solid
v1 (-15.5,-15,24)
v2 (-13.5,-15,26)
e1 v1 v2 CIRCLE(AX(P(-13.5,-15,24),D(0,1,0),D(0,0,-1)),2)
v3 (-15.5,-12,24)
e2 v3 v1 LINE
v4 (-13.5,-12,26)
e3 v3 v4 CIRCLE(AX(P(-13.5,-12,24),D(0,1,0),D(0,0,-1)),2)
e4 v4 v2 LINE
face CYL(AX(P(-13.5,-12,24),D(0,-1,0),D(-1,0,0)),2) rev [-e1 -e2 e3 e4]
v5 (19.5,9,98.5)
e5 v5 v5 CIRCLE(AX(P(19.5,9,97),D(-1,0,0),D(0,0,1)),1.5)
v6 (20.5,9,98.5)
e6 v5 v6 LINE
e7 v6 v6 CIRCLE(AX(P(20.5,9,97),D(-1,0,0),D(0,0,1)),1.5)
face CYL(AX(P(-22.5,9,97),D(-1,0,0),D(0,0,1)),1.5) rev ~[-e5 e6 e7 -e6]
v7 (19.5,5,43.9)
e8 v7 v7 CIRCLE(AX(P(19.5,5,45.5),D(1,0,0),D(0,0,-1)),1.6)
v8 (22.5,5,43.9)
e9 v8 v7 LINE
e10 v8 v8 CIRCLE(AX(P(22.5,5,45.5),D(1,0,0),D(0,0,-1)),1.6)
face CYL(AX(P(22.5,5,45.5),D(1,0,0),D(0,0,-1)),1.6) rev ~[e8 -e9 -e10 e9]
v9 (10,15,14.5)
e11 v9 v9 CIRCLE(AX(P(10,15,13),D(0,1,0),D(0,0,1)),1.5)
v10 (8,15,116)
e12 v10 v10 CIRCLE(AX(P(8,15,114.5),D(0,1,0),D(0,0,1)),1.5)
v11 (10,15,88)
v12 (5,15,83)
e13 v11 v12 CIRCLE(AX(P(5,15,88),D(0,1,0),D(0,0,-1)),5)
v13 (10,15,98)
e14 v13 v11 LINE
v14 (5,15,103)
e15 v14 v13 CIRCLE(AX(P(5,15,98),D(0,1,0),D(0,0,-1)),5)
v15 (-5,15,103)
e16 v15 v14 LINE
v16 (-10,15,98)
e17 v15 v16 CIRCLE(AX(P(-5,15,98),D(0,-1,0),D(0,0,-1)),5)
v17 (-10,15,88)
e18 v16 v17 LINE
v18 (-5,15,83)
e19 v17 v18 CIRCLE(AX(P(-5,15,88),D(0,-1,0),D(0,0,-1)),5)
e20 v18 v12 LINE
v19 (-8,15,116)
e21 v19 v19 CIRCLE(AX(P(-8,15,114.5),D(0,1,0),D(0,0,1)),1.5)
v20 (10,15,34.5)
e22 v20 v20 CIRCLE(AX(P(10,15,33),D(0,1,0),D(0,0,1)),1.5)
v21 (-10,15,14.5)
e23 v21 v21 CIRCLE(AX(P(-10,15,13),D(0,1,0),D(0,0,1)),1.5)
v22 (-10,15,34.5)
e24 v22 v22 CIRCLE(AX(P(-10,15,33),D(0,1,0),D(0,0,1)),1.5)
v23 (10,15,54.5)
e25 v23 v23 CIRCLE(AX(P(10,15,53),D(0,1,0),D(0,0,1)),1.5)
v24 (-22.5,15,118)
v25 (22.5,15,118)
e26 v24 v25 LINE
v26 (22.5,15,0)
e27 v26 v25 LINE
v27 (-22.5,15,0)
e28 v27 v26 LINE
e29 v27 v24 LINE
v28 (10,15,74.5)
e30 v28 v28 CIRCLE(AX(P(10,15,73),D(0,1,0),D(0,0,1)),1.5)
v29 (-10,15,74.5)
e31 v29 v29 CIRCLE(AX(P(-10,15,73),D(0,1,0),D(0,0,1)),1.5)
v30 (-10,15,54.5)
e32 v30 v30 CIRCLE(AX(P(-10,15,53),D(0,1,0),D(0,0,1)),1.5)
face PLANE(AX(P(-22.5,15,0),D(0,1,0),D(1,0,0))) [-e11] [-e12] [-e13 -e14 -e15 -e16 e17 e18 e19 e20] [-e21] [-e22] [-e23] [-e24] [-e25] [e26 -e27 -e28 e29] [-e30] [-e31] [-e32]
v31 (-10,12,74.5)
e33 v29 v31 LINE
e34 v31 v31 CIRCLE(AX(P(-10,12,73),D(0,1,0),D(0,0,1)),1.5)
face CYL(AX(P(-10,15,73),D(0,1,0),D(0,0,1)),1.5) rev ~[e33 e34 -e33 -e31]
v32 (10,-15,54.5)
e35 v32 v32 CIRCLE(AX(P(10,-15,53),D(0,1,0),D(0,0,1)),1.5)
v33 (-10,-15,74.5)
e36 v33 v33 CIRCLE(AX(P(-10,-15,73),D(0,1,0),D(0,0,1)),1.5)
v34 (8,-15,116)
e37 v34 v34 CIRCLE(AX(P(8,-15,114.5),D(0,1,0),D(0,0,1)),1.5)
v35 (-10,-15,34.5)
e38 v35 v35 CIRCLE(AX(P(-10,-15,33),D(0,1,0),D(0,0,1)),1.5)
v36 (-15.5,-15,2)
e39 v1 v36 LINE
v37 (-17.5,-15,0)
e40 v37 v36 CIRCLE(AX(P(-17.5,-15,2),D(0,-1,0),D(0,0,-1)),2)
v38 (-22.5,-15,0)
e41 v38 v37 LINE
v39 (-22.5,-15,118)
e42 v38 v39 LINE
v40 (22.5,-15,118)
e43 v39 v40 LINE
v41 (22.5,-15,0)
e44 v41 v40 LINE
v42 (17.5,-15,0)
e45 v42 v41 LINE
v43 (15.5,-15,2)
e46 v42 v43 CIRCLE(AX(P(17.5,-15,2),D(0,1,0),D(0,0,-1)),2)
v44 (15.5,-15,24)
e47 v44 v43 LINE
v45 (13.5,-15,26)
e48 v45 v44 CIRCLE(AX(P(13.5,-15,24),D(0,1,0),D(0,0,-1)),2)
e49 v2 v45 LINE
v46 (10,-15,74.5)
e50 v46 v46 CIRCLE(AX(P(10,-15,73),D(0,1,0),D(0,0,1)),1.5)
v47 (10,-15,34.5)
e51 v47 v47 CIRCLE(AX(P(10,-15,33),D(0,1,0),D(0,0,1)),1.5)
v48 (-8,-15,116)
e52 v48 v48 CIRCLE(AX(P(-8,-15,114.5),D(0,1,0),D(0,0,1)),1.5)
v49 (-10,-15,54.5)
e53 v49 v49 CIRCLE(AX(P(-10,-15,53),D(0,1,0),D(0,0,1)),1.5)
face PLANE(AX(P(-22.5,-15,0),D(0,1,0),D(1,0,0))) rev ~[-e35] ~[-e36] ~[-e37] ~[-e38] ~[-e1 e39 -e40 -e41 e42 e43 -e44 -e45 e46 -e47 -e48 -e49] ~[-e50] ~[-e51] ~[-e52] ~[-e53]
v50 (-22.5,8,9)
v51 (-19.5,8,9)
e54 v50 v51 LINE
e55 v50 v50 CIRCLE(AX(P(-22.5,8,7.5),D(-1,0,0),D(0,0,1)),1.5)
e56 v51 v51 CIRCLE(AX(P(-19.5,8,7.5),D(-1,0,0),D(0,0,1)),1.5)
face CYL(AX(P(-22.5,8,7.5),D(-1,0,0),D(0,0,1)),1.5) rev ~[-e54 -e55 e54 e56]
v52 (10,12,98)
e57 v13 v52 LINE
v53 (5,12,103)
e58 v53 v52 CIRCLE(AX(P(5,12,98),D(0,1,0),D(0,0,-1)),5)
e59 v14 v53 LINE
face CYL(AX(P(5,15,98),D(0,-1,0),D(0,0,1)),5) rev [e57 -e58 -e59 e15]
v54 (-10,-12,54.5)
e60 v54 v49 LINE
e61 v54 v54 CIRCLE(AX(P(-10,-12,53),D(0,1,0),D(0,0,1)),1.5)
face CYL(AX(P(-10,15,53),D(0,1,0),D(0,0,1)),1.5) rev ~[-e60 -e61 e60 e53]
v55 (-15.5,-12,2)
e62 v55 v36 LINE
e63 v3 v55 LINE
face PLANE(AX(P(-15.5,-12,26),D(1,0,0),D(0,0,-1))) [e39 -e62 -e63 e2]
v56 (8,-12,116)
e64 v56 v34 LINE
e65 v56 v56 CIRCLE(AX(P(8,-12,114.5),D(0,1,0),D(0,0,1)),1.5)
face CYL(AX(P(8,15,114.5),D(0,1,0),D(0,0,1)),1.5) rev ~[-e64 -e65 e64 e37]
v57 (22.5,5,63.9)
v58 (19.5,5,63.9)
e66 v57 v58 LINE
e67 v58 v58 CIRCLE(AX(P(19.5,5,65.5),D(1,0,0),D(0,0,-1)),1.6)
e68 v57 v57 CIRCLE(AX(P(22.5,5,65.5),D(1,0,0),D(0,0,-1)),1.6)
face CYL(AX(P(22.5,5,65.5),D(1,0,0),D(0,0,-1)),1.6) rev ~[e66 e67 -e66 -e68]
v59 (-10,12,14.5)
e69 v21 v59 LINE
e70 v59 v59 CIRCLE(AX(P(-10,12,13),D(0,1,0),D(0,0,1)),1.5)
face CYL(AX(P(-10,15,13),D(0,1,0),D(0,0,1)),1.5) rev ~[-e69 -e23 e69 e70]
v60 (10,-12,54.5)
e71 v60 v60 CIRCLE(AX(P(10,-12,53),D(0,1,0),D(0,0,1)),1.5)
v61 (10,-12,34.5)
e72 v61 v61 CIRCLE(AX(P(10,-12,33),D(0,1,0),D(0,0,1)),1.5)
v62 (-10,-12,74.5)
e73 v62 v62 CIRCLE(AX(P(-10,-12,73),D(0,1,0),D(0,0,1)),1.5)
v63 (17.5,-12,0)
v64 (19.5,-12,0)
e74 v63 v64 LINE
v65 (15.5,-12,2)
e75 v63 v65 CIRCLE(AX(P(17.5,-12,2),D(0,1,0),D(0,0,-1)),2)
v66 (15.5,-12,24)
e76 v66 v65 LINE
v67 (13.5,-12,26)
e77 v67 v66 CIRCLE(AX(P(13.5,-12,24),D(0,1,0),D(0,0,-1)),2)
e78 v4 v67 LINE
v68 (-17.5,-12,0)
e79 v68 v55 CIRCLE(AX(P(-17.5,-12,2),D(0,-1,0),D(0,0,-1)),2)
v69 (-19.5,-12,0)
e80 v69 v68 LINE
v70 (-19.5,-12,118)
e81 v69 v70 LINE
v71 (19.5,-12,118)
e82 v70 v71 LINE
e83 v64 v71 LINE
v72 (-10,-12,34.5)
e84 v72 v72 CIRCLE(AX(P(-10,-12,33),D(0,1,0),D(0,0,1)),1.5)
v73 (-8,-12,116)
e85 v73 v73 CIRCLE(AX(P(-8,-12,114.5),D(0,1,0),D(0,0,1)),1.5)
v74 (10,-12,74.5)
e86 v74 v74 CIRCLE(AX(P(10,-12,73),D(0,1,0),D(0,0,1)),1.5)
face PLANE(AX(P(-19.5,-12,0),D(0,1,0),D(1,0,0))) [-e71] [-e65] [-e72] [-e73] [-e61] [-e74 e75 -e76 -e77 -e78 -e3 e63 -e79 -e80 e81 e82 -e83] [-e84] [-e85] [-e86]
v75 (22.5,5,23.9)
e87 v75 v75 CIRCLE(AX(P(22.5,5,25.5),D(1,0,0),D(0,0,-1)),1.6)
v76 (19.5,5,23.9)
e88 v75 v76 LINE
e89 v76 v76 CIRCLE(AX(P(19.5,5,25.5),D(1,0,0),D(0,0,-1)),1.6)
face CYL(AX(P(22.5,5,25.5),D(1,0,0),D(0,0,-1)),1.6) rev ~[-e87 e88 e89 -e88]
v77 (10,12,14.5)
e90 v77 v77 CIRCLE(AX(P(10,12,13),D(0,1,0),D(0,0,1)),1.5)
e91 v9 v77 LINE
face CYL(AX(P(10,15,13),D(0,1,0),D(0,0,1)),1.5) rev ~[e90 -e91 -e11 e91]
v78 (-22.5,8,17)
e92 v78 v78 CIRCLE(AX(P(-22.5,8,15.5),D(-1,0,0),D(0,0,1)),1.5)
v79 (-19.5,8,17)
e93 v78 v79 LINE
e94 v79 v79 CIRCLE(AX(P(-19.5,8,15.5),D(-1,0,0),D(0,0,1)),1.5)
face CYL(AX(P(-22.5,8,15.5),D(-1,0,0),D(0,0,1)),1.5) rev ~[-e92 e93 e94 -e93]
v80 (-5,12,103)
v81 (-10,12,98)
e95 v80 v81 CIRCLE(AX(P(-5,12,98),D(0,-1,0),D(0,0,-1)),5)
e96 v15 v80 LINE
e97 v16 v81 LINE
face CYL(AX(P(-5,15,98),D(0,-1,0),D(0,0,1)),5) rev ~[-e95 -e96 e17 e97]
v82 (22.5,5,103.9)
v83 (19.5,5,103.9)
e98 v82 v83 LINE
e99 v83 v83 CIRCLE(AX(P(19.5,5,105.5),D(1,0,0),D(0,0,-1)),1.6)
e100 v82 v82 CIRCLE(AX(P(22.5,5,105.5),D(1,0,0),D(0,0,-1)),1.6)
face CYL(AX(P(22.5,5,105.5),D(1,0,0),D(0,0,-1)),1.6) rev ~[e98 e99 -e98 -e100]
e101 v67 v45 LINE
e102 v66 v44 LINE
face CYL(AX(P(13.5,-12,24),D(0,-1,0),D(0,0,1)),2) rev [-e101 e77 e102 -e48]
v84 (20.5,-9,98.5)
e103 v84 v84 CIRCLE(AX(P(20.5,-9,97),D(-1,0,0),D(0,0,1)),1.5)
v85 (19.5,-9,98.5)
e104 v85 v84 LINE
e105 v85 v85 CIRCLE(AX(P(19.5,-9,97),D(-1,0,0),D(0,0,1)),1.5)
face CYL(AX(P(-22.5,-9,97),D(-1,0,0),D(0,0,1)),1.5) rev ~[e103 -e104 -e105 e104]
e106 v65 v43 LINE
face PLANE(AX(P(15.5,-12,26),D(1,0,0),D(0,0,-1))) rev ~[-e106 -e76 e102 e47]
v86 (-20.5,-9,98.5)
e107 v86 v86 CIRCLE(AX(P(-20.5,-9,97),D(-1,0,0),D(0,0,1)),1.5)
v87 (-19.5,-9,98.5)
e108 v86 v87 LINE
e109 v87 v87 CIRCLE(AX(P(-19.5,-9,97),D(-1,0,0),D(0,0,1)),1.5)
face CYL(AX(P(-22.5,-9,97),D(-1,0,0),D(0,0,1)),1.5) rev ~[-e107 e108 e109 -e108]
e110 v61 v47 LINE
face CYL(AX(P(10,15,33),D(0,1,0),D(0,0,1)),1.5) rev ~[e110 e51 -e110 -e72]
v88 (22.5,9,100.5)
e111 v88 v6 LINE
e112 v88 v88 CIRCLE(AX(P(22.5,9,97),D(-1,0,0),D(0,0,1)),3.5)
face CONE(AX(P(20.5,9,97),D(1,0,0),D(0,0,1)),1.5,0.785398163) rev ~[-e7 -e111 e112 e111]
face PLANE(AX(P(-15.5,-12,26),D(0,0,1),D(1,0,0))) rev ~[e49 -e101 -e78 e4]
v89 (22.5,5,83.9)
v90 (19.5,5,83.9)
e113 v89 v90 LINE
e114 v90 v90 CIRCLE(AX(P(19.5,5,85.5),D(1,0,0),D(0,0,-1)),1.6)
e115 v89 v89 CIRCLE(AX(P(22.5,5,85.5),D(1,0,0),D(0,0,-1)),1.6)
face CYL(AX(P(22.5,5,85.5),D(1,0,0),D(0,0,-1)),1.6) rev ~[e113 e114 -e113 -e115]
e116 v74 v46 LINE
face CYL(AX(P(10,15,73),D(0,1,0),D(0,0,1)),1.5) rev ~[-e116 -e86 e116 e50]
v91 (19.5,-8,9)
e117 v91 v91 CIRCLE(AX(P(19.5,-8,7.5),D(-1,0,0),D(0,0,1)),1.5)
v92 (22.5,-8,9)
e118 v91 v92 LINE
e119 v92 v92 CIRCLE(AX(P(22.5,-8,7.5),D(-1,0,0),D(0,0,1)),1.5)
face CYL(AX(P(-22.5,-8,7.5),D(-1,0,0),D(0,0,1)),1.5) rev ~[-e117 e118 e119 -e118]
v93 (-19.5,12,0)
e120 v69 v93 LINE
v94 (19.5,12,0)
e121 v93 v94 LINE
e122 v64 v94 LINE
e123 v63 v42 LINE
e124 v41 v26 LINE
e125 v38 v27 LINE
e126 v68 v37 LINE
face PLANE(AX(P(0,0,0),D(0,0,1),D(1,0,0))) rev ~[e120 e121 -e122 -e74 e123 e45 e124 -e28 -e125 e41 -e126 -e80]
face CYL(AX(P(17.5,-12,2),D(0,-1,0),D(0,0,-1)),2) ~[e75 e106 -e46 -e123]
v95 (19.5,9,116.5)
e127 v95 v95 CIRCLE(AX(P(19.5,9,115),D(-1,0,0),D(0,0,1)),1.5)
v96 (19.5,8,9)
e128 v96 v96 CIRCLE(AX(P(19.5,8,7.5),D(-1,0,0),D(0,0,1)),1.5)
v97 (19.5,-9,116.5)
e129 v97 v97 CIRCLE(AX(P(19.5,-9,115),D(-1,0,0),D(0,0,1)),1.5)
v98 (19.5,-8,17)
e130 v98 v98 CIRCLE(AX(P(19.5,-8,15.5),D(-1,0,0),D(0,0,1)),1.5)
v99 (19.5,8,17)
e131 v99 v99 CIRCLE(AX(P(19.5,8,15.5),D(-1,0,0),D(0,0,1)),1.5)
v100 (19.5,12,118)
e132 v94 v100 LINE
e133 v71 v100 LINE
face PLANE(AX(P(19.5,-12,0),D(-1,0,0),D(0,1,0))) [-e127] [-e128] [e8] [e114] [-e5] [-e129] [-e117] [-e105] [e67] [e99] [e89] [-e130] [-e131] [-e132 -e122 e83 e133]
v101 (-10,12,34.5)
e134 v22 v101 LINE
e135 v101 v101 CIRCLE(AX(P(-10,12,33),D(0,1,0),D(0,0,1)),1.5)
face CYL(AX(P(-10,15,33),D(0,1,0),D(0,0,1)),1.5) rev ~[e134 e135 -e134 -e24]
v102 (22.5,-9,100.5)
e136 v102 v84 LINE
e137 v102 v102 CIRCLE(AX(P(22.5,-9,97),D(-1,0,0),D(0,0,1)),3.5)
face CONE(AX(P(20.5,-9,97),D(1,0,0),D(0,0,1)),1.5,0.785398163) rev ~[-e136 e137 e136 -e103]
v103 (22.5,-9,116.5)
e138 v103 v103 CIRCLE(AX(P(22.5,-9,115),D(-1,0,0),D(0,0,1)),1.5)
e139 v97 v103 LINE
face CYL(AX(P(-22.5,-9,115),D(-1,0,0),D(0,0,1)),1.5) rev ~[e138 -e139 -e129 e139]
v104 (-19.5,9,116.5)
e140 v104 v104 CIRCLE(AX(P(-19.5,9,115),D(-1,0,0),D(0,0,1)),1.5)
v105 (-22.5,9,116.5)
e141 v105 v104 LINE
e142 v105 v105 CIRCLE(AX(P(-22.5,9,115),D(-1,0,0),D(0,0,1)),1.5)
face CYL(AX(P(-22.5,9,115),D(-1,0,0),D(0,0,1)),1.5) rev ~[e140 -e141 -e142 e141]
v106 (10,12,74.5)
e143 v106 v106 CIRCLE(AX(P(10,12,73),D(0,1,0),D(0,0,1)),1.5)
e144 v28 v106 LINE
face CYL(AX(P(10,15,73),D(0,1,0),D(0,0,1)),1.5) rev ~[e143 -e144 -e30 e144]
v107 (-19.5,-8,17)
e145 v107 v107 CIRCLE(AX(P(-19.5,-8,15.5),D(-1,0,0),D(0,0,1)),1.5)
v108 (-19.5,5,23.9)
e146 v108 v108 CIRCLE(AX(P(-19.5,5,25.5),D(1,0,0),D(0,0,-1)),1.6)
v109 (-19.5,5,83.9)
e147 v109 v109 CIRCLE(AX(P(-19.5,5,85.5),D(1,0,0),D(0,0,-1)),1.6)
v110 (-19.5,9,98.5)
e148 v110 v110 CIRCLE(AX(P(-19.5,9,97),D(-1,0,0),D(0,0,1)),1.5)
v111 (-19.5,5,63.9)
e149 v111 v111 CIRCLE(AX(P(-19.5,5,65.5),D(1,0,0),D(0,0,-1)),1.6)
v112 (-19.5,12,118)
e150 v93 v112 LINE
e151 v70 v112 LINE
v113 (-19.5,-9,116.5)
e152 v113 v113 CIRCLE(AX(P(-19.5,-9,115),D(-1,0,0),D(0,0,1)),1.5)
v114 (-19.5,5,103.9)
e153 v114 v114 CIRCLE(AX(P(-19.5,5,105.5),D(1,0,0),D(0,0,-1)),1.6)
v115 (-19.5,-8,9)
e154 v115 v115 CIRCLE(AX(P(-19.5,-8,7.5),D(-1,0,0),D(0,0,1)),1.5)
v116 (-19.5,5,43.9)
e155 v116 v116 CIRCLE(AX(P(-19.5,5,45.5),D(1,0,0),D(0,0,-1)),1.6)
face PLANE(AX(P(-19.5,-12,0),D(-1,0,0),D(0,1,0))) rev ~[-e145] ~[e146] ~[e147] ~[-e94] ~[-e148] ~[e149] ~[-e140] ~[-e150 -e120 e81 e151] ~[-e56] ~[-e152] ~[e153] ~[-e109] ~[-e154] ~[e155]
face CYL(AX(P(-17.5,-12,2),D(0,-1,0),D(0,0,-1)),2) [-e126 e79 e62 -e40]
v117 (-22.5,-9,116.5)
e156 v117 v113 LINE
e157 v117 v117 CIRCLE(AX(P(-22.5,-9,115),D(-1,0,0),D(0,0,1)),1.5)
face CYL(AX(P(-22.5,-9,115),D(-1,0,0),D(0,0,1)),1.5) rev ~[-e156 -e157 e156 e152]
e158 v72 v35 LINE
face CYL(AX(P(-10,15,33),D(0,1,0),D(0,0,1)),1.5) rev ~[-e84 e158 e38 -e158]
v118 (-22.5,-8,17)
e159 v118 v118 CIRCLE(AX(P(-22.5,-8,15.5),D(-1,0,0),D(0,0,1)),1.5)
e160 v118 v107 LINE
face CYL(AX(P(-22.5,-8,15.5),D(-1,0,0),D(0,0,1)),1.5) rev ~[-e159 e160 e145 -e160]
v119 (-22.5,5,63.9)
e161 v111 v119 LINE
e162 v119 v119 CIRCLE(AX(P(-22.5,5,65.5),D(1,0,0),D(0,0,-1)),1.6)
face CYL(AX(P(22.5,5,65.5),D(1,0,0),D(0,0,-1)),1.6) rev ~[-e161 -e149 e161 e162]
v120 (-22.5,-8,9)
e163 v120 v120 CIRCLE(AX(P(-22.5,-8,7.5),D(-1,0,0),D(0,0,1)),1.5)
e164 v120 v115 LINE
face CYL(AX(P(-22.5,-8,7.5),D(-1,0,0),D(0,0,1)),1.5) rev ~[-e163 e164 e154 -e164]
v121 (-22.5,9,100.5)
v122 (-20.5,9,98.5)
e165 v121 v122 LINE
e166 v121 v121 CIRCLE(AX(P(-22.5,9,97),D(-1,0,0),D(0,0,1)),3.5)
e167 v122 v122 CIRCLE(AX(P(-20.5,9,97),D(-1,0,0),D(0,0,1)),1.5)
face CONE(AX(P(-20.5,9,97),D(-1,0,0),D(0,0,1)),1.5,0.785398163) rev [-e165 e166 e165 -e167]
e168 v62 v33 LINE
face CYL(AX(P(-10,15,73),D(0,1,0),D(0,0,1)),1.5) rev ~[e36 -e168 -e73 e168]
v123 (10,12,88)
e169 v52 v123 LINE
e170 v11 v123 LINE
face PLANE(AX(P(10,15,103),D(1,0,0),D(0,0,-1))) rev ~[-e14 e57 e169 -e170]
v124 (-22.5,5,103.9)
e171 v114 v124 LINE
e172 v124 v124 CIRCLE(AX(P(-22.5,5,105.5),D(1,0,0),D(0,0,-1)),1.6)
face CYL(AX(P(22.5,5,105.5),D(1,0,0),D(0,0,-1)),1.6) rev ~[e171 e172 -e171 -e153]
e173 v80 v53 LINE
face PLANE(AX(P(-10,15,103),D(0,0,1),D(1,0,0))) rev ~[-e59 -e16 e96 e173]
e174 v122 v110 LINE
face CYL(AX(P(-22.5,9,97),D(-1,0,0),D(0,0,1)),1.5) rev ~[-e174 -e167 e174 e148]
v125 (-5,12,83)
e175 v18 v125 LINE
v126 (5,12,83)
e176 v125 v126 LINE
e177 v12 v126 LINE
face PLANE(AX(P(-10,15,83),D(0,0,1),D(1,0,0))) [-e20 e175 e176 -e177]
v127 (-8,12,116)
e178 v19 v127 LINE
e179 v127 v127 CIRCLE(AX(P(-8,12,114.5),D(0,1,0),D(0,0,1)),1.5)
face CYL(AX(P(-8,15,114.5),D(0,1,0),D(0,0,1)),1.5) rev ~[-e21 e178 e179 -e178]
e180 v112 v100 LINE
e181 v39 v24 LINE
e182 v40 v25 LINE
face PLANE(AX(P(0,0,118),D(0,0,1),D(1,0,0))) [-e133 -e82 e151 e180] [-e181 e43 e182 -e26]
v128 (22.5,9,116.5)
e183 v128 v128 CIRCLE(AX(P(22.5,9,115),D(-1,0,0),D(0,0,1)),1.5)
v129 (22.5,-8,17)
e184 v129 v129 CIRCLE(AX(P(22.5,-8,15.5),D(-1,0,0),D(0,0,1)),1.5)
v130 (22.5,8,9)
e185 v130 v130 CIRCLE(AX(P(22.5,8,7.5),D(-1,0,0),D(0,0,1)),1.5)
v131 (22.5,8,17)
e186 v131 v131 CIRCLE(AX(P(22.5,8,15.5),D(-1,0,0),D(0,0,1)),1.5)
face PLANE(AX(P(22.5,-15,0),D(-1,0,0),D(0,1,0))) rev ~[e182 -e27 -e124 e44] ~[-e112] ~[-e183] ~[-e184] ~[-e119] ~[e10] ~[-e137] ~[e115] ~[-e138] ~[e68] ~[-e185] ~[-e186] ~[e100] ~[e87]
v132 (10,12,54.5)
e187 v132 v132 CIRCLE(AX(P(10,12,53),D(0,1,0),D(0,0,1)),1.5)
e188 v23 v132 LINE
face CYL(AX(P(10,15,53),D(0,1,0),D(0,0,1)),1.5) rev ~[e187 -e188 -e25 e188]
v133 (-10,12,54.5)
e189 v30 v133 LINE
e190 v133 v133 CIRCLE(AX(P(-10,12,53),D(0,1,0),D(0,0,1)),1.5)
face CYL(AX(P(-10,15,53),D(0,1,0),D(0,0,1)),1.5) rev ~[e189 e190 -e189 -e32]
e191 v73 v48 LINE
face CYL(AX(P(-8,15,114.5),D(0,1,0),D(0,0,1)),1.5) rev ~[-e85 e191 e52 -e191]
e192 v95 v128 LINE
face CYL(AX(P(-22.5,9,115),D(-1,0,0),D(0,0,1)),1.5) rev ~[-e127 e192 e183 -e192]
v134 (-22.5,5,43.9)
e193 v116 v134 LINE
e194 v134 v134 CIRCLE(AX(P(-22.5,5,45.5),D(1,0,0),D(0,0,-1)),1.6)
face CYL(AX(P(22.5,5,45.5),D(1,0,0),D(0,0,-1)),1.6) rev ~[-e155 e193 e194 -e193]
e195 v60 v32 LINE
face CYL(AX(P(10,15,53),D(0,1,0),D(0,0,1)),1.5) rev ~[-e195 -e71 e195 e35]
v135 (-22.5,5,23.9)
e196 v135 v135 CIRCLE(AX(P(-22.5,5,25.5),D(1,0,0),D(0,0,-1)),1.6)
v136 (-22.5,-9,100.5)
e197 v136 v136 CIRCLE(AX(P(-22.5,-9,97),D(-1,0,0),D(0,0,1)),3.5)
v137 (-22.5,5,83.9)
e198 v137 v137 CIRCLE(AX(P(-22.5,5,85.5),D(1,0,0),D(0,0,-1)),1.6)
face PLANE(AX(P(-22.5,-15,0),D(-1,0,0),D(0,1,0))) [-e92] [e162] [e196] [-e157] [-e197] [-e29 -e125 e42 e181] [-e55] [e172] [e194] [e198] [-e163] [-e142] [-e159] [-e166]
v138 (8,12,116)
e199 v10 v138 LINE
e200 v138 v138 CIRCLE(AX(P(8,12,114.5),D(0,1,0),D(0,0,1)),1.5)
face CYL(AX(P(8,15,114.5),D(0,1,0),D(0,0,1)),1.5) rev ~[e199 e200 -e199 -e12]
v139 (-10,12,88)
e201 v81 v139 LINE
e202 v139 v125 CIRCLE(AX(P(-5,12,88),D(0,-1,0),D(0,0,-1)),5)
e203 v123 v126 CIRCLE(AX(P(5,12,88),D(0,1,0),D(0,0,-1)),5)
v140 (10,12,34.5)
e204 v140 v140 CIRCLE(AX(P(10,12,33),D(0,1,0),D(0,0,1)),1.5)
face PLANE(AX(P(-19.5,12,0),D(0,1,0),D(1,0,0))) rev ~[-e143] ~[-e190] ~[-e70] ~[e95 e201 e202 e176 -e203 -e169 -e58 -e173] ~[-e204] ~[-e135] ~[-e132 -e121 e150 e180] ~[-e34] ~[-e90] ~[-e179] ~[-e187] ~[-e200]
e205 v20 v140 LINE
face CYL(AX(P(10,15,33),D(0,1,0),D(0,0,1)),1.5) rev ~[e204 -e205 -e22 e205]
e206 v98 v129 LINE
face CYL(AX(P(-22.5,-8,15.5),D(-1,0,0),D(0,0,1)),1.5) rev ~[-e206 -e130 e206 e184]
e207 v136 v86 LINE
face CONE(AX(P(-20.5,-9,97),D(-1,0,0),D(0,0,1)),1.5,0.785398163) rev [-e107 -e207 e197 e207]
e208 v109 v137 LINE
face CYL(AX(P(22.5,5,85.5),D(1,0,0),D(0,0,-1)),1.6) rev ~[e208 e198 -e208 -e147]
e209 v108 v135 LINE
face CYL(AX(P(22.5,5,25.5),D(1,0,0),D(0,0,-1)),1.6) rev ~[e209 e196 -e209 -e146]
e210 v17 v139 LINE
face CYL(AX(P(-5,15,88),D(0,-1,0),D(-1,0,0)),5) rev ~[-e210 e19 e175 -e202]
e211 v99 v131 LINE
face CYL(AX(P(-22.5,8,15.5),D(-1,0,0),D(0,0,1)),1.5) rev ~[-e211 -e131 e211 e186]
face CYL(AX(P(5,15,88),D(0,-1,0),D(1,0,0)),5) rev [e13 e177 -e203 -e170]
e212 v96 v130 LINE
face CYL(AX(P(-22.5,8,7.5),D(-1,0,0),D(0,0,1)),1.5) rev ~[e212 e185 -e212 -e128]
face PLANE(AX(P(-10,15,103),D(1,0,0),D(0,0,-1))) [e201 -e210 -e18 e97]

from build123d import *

# Parameters (mm, degrees)
SKETCH_1_W          = 45
SKETCH_1_H          = 30
SKETCH_1_W_2        = 39
SKETCH_1_H_2        = 24
EXTRUDE_1_DEPTH     = 118
SKETCH_2_R          = 1.5
CUT_EXTRUDE_1_DEPTH = 59
SKETCH_3_W          = 31
SKETCH_3_H          = 26
CUT_EXTRUDE_2_DEPTH = 10
SKETCH_4_R          = 1.6
CUT_EXTRUDE_3_DEPTH = 50
CHAMFER_1_SIZE      = 2
FILLET_1_R          = 2
SKETCH_5_W          = 20
SKETCH_5_H          = 20
CUT_EXTRUDE_4_DEPTH = 3
SKETCH_6_R          = 1.5
CUT_EXTRUDE_5_DEPTH = 42
FILLET_2_R          = 5
SKETCH_7_R          = 1.5
CUT_EXTRUDE_6_DEPTH = 30


with BuildPart() as part:
    # 草图1 → 拉伸-薄壁1 (new body)
    with BuildSketch(Plane.XY):
        Rectangle(SKETCH_1_W, SKETCH_1_H)
        Rectangle(SKETCH_1_W_2, SKETCH_1_H_2, mode=Mode.SUBTRACT)
    extrude(amount=EXTRUDE_1_DEPTH)

    # 草图2 → 切除-拉伸1 (cut)
    with BuildSketch(Plane.ZY.offset(22.5)):
        with Locations((15.5, 8)):
            Circle(SKETCH_2_R)
        with Locations((15.5, -8)):
            Circle(SKETCH_2_R)
        with Locations((7.5, -8)):
            Circle(SKETCH_2_R)
        with Locations((7.5, 8)):
            Circle(SKETCH_2_R)
        with Locations((115, 9)):
            Circle(SKETCH_2_R)
        with Locations((97, 9)):
            Circle(SKETCH_2_R)
        with Locations((97, -9)):
            Circle(SKETCH_2_R)
        with Locations((115, -9)):
            Circle(SKETCH_2_R)
    extrude(amount=-CUT_EXTRUDE_1_DEPTH, mode=Mode.SUBTRACT)

    # 草图3 → 切除-拉伸2 (cut)
    with BuildSketch(Plane(origin=(0, -12, 0), x_dir=(1, 0, 0), z_dir=(0, 1, 0))):
        with Locations((0, -13)):
            Rectangle(SKETCH_3_W, SKETCH_3_H)
    extrude(amount=-CUT_EXTRUDE_2_DEPTH, mode=Mode.SUBTRACT)

    # 草图4 → 切除-拉伸3 (cut)
    with BuildSketch(Plane(origin=(22.5, 0, 0), x_dir=(0, 0, -1), z_dir=(1, 0, 0))):
        with Locations((-25.5, 5)):
            Circle(SKETCH_4_R)
        with Locations((-45.5, 5)):
            Circle(SKETCH_4_R)
        with Locations((-65.5, 5)):
            Circle(SKETCH_4_R)
        with Locations((-85.5, 5)):
            Circle(SKETCH_4_R)
        with Locations((-105.5, 5)):
            Circle(SKETCH_4_R)
    extrude(amount=-CUT_EXTRUDE_3_DEPTH, mode=Mode.SUBTRACT)

    # 倒角1
    chamfer_1_edges = [part.edges().sort_by_distance(p)[0] for p in [
        (22.5, 9, 95.5),
        (-22.5, 9, 95.5),
        (22.5, -9, 95.5),
        (-22.5, -9, 95.5),
    ]]
    chamfer(chamfer_1_edges, length=CHAMFER_1_SIZE)

    # 圆角1
    fillet_1_edges = [part.edges().sort_by_distance(p)[0] for p in [
        (15.5, -13.5, 0),
        (15.5, -13.5, 26),
        (-15.5, -13.5, 26),
        (-15.5, -13.5, 0),
    ]]
    fillet(fillet_1_edges, radius=FILLET_1_R)

    # 草图5 → 切除-拉伸4 (cut)
    with BuildSketch(Plane(origin=(0, 15, 0), x_dir=(1, 0, 0), z_dir=(0, 1, 0))):
        with Locations((0, -93)):
            Rectangle(SKETCH_5_W, SKETCH_5_H)
    extrude(amount=-CUT_EXTRUDE_4_DEPTH, mode=Mode.SUBTRACT)

    # 草图6 → 切除-拉伸5 (cut)
    with BuildSketch(Plane(origin=(0, 15, 0), x_dir=(1, 0, 0), z_dir=(0, 1, 0))):
        with Locations(Location((10, -73, 0), (0, 0, 270))):
            Circle(SKETCH_6_R)
        with Locations(Location((-10, -73, 0), (0, 0, 270))):
            Circle(SKETCH_6_R)
        with Locations(Location((-10, -53, 0), (0, 0, 270))):
            Circle(SKETCH_6_R)
        with Locations(Location((10, -53, 0), (0, 0, 270))):
            Circle(SKETCH_6_R)
        with Locations(Location((-10, -33, 0), (0, 0, 270))):
            Circle(SKETCH_6_R)
        with Locations(Location((10, -33, 0), (0, 0, 270))):
            Circle(SKETCH_6_R)
        with Locations(Location((-10, -13, 0), (0, 0, 270))):
            Circle(SKETCH_6_R)
        with Locations(Location((10, -13, 0), (0, 0, 270))):
            Circle(SKETCH_6_R)
    extrude(amount=-CUT_EXTRUDE_5_DEPTH, mode=Mode.SUBTRACT)

    # 圆角2
    fillet_2_edges = [part.edges().sort_by_distance(p)[0] for p in [
        (10, 13.5, 83),
        (10, 13.5, 103),
        (-10, 13.5, 103),
        (-10, 13.5, 83),
    ]]
    fillet(fillet_2_edges, radius=FILLET_2_R)

    # 草图7 → 切除-拉伸6 (cut)
    with BuildSketch(Plane(origin=(0, 15, 0), x_dir=(1, 0, 0), z_dir=(0, 1, 0))):
        with Locations(Location((8, -114.5, 0), (0, 0, 270))):
            Circle(SKETCH_7_R)
        with Locations(Location((-8, -114.5, 0), (0, 0, 270))):
            Circle(SKETCH_7_R)
    extrude(amount=-CUT_EXTRUDE_6_DEPTH, mode=Mode.SUBTRACT)


solid = part.part
